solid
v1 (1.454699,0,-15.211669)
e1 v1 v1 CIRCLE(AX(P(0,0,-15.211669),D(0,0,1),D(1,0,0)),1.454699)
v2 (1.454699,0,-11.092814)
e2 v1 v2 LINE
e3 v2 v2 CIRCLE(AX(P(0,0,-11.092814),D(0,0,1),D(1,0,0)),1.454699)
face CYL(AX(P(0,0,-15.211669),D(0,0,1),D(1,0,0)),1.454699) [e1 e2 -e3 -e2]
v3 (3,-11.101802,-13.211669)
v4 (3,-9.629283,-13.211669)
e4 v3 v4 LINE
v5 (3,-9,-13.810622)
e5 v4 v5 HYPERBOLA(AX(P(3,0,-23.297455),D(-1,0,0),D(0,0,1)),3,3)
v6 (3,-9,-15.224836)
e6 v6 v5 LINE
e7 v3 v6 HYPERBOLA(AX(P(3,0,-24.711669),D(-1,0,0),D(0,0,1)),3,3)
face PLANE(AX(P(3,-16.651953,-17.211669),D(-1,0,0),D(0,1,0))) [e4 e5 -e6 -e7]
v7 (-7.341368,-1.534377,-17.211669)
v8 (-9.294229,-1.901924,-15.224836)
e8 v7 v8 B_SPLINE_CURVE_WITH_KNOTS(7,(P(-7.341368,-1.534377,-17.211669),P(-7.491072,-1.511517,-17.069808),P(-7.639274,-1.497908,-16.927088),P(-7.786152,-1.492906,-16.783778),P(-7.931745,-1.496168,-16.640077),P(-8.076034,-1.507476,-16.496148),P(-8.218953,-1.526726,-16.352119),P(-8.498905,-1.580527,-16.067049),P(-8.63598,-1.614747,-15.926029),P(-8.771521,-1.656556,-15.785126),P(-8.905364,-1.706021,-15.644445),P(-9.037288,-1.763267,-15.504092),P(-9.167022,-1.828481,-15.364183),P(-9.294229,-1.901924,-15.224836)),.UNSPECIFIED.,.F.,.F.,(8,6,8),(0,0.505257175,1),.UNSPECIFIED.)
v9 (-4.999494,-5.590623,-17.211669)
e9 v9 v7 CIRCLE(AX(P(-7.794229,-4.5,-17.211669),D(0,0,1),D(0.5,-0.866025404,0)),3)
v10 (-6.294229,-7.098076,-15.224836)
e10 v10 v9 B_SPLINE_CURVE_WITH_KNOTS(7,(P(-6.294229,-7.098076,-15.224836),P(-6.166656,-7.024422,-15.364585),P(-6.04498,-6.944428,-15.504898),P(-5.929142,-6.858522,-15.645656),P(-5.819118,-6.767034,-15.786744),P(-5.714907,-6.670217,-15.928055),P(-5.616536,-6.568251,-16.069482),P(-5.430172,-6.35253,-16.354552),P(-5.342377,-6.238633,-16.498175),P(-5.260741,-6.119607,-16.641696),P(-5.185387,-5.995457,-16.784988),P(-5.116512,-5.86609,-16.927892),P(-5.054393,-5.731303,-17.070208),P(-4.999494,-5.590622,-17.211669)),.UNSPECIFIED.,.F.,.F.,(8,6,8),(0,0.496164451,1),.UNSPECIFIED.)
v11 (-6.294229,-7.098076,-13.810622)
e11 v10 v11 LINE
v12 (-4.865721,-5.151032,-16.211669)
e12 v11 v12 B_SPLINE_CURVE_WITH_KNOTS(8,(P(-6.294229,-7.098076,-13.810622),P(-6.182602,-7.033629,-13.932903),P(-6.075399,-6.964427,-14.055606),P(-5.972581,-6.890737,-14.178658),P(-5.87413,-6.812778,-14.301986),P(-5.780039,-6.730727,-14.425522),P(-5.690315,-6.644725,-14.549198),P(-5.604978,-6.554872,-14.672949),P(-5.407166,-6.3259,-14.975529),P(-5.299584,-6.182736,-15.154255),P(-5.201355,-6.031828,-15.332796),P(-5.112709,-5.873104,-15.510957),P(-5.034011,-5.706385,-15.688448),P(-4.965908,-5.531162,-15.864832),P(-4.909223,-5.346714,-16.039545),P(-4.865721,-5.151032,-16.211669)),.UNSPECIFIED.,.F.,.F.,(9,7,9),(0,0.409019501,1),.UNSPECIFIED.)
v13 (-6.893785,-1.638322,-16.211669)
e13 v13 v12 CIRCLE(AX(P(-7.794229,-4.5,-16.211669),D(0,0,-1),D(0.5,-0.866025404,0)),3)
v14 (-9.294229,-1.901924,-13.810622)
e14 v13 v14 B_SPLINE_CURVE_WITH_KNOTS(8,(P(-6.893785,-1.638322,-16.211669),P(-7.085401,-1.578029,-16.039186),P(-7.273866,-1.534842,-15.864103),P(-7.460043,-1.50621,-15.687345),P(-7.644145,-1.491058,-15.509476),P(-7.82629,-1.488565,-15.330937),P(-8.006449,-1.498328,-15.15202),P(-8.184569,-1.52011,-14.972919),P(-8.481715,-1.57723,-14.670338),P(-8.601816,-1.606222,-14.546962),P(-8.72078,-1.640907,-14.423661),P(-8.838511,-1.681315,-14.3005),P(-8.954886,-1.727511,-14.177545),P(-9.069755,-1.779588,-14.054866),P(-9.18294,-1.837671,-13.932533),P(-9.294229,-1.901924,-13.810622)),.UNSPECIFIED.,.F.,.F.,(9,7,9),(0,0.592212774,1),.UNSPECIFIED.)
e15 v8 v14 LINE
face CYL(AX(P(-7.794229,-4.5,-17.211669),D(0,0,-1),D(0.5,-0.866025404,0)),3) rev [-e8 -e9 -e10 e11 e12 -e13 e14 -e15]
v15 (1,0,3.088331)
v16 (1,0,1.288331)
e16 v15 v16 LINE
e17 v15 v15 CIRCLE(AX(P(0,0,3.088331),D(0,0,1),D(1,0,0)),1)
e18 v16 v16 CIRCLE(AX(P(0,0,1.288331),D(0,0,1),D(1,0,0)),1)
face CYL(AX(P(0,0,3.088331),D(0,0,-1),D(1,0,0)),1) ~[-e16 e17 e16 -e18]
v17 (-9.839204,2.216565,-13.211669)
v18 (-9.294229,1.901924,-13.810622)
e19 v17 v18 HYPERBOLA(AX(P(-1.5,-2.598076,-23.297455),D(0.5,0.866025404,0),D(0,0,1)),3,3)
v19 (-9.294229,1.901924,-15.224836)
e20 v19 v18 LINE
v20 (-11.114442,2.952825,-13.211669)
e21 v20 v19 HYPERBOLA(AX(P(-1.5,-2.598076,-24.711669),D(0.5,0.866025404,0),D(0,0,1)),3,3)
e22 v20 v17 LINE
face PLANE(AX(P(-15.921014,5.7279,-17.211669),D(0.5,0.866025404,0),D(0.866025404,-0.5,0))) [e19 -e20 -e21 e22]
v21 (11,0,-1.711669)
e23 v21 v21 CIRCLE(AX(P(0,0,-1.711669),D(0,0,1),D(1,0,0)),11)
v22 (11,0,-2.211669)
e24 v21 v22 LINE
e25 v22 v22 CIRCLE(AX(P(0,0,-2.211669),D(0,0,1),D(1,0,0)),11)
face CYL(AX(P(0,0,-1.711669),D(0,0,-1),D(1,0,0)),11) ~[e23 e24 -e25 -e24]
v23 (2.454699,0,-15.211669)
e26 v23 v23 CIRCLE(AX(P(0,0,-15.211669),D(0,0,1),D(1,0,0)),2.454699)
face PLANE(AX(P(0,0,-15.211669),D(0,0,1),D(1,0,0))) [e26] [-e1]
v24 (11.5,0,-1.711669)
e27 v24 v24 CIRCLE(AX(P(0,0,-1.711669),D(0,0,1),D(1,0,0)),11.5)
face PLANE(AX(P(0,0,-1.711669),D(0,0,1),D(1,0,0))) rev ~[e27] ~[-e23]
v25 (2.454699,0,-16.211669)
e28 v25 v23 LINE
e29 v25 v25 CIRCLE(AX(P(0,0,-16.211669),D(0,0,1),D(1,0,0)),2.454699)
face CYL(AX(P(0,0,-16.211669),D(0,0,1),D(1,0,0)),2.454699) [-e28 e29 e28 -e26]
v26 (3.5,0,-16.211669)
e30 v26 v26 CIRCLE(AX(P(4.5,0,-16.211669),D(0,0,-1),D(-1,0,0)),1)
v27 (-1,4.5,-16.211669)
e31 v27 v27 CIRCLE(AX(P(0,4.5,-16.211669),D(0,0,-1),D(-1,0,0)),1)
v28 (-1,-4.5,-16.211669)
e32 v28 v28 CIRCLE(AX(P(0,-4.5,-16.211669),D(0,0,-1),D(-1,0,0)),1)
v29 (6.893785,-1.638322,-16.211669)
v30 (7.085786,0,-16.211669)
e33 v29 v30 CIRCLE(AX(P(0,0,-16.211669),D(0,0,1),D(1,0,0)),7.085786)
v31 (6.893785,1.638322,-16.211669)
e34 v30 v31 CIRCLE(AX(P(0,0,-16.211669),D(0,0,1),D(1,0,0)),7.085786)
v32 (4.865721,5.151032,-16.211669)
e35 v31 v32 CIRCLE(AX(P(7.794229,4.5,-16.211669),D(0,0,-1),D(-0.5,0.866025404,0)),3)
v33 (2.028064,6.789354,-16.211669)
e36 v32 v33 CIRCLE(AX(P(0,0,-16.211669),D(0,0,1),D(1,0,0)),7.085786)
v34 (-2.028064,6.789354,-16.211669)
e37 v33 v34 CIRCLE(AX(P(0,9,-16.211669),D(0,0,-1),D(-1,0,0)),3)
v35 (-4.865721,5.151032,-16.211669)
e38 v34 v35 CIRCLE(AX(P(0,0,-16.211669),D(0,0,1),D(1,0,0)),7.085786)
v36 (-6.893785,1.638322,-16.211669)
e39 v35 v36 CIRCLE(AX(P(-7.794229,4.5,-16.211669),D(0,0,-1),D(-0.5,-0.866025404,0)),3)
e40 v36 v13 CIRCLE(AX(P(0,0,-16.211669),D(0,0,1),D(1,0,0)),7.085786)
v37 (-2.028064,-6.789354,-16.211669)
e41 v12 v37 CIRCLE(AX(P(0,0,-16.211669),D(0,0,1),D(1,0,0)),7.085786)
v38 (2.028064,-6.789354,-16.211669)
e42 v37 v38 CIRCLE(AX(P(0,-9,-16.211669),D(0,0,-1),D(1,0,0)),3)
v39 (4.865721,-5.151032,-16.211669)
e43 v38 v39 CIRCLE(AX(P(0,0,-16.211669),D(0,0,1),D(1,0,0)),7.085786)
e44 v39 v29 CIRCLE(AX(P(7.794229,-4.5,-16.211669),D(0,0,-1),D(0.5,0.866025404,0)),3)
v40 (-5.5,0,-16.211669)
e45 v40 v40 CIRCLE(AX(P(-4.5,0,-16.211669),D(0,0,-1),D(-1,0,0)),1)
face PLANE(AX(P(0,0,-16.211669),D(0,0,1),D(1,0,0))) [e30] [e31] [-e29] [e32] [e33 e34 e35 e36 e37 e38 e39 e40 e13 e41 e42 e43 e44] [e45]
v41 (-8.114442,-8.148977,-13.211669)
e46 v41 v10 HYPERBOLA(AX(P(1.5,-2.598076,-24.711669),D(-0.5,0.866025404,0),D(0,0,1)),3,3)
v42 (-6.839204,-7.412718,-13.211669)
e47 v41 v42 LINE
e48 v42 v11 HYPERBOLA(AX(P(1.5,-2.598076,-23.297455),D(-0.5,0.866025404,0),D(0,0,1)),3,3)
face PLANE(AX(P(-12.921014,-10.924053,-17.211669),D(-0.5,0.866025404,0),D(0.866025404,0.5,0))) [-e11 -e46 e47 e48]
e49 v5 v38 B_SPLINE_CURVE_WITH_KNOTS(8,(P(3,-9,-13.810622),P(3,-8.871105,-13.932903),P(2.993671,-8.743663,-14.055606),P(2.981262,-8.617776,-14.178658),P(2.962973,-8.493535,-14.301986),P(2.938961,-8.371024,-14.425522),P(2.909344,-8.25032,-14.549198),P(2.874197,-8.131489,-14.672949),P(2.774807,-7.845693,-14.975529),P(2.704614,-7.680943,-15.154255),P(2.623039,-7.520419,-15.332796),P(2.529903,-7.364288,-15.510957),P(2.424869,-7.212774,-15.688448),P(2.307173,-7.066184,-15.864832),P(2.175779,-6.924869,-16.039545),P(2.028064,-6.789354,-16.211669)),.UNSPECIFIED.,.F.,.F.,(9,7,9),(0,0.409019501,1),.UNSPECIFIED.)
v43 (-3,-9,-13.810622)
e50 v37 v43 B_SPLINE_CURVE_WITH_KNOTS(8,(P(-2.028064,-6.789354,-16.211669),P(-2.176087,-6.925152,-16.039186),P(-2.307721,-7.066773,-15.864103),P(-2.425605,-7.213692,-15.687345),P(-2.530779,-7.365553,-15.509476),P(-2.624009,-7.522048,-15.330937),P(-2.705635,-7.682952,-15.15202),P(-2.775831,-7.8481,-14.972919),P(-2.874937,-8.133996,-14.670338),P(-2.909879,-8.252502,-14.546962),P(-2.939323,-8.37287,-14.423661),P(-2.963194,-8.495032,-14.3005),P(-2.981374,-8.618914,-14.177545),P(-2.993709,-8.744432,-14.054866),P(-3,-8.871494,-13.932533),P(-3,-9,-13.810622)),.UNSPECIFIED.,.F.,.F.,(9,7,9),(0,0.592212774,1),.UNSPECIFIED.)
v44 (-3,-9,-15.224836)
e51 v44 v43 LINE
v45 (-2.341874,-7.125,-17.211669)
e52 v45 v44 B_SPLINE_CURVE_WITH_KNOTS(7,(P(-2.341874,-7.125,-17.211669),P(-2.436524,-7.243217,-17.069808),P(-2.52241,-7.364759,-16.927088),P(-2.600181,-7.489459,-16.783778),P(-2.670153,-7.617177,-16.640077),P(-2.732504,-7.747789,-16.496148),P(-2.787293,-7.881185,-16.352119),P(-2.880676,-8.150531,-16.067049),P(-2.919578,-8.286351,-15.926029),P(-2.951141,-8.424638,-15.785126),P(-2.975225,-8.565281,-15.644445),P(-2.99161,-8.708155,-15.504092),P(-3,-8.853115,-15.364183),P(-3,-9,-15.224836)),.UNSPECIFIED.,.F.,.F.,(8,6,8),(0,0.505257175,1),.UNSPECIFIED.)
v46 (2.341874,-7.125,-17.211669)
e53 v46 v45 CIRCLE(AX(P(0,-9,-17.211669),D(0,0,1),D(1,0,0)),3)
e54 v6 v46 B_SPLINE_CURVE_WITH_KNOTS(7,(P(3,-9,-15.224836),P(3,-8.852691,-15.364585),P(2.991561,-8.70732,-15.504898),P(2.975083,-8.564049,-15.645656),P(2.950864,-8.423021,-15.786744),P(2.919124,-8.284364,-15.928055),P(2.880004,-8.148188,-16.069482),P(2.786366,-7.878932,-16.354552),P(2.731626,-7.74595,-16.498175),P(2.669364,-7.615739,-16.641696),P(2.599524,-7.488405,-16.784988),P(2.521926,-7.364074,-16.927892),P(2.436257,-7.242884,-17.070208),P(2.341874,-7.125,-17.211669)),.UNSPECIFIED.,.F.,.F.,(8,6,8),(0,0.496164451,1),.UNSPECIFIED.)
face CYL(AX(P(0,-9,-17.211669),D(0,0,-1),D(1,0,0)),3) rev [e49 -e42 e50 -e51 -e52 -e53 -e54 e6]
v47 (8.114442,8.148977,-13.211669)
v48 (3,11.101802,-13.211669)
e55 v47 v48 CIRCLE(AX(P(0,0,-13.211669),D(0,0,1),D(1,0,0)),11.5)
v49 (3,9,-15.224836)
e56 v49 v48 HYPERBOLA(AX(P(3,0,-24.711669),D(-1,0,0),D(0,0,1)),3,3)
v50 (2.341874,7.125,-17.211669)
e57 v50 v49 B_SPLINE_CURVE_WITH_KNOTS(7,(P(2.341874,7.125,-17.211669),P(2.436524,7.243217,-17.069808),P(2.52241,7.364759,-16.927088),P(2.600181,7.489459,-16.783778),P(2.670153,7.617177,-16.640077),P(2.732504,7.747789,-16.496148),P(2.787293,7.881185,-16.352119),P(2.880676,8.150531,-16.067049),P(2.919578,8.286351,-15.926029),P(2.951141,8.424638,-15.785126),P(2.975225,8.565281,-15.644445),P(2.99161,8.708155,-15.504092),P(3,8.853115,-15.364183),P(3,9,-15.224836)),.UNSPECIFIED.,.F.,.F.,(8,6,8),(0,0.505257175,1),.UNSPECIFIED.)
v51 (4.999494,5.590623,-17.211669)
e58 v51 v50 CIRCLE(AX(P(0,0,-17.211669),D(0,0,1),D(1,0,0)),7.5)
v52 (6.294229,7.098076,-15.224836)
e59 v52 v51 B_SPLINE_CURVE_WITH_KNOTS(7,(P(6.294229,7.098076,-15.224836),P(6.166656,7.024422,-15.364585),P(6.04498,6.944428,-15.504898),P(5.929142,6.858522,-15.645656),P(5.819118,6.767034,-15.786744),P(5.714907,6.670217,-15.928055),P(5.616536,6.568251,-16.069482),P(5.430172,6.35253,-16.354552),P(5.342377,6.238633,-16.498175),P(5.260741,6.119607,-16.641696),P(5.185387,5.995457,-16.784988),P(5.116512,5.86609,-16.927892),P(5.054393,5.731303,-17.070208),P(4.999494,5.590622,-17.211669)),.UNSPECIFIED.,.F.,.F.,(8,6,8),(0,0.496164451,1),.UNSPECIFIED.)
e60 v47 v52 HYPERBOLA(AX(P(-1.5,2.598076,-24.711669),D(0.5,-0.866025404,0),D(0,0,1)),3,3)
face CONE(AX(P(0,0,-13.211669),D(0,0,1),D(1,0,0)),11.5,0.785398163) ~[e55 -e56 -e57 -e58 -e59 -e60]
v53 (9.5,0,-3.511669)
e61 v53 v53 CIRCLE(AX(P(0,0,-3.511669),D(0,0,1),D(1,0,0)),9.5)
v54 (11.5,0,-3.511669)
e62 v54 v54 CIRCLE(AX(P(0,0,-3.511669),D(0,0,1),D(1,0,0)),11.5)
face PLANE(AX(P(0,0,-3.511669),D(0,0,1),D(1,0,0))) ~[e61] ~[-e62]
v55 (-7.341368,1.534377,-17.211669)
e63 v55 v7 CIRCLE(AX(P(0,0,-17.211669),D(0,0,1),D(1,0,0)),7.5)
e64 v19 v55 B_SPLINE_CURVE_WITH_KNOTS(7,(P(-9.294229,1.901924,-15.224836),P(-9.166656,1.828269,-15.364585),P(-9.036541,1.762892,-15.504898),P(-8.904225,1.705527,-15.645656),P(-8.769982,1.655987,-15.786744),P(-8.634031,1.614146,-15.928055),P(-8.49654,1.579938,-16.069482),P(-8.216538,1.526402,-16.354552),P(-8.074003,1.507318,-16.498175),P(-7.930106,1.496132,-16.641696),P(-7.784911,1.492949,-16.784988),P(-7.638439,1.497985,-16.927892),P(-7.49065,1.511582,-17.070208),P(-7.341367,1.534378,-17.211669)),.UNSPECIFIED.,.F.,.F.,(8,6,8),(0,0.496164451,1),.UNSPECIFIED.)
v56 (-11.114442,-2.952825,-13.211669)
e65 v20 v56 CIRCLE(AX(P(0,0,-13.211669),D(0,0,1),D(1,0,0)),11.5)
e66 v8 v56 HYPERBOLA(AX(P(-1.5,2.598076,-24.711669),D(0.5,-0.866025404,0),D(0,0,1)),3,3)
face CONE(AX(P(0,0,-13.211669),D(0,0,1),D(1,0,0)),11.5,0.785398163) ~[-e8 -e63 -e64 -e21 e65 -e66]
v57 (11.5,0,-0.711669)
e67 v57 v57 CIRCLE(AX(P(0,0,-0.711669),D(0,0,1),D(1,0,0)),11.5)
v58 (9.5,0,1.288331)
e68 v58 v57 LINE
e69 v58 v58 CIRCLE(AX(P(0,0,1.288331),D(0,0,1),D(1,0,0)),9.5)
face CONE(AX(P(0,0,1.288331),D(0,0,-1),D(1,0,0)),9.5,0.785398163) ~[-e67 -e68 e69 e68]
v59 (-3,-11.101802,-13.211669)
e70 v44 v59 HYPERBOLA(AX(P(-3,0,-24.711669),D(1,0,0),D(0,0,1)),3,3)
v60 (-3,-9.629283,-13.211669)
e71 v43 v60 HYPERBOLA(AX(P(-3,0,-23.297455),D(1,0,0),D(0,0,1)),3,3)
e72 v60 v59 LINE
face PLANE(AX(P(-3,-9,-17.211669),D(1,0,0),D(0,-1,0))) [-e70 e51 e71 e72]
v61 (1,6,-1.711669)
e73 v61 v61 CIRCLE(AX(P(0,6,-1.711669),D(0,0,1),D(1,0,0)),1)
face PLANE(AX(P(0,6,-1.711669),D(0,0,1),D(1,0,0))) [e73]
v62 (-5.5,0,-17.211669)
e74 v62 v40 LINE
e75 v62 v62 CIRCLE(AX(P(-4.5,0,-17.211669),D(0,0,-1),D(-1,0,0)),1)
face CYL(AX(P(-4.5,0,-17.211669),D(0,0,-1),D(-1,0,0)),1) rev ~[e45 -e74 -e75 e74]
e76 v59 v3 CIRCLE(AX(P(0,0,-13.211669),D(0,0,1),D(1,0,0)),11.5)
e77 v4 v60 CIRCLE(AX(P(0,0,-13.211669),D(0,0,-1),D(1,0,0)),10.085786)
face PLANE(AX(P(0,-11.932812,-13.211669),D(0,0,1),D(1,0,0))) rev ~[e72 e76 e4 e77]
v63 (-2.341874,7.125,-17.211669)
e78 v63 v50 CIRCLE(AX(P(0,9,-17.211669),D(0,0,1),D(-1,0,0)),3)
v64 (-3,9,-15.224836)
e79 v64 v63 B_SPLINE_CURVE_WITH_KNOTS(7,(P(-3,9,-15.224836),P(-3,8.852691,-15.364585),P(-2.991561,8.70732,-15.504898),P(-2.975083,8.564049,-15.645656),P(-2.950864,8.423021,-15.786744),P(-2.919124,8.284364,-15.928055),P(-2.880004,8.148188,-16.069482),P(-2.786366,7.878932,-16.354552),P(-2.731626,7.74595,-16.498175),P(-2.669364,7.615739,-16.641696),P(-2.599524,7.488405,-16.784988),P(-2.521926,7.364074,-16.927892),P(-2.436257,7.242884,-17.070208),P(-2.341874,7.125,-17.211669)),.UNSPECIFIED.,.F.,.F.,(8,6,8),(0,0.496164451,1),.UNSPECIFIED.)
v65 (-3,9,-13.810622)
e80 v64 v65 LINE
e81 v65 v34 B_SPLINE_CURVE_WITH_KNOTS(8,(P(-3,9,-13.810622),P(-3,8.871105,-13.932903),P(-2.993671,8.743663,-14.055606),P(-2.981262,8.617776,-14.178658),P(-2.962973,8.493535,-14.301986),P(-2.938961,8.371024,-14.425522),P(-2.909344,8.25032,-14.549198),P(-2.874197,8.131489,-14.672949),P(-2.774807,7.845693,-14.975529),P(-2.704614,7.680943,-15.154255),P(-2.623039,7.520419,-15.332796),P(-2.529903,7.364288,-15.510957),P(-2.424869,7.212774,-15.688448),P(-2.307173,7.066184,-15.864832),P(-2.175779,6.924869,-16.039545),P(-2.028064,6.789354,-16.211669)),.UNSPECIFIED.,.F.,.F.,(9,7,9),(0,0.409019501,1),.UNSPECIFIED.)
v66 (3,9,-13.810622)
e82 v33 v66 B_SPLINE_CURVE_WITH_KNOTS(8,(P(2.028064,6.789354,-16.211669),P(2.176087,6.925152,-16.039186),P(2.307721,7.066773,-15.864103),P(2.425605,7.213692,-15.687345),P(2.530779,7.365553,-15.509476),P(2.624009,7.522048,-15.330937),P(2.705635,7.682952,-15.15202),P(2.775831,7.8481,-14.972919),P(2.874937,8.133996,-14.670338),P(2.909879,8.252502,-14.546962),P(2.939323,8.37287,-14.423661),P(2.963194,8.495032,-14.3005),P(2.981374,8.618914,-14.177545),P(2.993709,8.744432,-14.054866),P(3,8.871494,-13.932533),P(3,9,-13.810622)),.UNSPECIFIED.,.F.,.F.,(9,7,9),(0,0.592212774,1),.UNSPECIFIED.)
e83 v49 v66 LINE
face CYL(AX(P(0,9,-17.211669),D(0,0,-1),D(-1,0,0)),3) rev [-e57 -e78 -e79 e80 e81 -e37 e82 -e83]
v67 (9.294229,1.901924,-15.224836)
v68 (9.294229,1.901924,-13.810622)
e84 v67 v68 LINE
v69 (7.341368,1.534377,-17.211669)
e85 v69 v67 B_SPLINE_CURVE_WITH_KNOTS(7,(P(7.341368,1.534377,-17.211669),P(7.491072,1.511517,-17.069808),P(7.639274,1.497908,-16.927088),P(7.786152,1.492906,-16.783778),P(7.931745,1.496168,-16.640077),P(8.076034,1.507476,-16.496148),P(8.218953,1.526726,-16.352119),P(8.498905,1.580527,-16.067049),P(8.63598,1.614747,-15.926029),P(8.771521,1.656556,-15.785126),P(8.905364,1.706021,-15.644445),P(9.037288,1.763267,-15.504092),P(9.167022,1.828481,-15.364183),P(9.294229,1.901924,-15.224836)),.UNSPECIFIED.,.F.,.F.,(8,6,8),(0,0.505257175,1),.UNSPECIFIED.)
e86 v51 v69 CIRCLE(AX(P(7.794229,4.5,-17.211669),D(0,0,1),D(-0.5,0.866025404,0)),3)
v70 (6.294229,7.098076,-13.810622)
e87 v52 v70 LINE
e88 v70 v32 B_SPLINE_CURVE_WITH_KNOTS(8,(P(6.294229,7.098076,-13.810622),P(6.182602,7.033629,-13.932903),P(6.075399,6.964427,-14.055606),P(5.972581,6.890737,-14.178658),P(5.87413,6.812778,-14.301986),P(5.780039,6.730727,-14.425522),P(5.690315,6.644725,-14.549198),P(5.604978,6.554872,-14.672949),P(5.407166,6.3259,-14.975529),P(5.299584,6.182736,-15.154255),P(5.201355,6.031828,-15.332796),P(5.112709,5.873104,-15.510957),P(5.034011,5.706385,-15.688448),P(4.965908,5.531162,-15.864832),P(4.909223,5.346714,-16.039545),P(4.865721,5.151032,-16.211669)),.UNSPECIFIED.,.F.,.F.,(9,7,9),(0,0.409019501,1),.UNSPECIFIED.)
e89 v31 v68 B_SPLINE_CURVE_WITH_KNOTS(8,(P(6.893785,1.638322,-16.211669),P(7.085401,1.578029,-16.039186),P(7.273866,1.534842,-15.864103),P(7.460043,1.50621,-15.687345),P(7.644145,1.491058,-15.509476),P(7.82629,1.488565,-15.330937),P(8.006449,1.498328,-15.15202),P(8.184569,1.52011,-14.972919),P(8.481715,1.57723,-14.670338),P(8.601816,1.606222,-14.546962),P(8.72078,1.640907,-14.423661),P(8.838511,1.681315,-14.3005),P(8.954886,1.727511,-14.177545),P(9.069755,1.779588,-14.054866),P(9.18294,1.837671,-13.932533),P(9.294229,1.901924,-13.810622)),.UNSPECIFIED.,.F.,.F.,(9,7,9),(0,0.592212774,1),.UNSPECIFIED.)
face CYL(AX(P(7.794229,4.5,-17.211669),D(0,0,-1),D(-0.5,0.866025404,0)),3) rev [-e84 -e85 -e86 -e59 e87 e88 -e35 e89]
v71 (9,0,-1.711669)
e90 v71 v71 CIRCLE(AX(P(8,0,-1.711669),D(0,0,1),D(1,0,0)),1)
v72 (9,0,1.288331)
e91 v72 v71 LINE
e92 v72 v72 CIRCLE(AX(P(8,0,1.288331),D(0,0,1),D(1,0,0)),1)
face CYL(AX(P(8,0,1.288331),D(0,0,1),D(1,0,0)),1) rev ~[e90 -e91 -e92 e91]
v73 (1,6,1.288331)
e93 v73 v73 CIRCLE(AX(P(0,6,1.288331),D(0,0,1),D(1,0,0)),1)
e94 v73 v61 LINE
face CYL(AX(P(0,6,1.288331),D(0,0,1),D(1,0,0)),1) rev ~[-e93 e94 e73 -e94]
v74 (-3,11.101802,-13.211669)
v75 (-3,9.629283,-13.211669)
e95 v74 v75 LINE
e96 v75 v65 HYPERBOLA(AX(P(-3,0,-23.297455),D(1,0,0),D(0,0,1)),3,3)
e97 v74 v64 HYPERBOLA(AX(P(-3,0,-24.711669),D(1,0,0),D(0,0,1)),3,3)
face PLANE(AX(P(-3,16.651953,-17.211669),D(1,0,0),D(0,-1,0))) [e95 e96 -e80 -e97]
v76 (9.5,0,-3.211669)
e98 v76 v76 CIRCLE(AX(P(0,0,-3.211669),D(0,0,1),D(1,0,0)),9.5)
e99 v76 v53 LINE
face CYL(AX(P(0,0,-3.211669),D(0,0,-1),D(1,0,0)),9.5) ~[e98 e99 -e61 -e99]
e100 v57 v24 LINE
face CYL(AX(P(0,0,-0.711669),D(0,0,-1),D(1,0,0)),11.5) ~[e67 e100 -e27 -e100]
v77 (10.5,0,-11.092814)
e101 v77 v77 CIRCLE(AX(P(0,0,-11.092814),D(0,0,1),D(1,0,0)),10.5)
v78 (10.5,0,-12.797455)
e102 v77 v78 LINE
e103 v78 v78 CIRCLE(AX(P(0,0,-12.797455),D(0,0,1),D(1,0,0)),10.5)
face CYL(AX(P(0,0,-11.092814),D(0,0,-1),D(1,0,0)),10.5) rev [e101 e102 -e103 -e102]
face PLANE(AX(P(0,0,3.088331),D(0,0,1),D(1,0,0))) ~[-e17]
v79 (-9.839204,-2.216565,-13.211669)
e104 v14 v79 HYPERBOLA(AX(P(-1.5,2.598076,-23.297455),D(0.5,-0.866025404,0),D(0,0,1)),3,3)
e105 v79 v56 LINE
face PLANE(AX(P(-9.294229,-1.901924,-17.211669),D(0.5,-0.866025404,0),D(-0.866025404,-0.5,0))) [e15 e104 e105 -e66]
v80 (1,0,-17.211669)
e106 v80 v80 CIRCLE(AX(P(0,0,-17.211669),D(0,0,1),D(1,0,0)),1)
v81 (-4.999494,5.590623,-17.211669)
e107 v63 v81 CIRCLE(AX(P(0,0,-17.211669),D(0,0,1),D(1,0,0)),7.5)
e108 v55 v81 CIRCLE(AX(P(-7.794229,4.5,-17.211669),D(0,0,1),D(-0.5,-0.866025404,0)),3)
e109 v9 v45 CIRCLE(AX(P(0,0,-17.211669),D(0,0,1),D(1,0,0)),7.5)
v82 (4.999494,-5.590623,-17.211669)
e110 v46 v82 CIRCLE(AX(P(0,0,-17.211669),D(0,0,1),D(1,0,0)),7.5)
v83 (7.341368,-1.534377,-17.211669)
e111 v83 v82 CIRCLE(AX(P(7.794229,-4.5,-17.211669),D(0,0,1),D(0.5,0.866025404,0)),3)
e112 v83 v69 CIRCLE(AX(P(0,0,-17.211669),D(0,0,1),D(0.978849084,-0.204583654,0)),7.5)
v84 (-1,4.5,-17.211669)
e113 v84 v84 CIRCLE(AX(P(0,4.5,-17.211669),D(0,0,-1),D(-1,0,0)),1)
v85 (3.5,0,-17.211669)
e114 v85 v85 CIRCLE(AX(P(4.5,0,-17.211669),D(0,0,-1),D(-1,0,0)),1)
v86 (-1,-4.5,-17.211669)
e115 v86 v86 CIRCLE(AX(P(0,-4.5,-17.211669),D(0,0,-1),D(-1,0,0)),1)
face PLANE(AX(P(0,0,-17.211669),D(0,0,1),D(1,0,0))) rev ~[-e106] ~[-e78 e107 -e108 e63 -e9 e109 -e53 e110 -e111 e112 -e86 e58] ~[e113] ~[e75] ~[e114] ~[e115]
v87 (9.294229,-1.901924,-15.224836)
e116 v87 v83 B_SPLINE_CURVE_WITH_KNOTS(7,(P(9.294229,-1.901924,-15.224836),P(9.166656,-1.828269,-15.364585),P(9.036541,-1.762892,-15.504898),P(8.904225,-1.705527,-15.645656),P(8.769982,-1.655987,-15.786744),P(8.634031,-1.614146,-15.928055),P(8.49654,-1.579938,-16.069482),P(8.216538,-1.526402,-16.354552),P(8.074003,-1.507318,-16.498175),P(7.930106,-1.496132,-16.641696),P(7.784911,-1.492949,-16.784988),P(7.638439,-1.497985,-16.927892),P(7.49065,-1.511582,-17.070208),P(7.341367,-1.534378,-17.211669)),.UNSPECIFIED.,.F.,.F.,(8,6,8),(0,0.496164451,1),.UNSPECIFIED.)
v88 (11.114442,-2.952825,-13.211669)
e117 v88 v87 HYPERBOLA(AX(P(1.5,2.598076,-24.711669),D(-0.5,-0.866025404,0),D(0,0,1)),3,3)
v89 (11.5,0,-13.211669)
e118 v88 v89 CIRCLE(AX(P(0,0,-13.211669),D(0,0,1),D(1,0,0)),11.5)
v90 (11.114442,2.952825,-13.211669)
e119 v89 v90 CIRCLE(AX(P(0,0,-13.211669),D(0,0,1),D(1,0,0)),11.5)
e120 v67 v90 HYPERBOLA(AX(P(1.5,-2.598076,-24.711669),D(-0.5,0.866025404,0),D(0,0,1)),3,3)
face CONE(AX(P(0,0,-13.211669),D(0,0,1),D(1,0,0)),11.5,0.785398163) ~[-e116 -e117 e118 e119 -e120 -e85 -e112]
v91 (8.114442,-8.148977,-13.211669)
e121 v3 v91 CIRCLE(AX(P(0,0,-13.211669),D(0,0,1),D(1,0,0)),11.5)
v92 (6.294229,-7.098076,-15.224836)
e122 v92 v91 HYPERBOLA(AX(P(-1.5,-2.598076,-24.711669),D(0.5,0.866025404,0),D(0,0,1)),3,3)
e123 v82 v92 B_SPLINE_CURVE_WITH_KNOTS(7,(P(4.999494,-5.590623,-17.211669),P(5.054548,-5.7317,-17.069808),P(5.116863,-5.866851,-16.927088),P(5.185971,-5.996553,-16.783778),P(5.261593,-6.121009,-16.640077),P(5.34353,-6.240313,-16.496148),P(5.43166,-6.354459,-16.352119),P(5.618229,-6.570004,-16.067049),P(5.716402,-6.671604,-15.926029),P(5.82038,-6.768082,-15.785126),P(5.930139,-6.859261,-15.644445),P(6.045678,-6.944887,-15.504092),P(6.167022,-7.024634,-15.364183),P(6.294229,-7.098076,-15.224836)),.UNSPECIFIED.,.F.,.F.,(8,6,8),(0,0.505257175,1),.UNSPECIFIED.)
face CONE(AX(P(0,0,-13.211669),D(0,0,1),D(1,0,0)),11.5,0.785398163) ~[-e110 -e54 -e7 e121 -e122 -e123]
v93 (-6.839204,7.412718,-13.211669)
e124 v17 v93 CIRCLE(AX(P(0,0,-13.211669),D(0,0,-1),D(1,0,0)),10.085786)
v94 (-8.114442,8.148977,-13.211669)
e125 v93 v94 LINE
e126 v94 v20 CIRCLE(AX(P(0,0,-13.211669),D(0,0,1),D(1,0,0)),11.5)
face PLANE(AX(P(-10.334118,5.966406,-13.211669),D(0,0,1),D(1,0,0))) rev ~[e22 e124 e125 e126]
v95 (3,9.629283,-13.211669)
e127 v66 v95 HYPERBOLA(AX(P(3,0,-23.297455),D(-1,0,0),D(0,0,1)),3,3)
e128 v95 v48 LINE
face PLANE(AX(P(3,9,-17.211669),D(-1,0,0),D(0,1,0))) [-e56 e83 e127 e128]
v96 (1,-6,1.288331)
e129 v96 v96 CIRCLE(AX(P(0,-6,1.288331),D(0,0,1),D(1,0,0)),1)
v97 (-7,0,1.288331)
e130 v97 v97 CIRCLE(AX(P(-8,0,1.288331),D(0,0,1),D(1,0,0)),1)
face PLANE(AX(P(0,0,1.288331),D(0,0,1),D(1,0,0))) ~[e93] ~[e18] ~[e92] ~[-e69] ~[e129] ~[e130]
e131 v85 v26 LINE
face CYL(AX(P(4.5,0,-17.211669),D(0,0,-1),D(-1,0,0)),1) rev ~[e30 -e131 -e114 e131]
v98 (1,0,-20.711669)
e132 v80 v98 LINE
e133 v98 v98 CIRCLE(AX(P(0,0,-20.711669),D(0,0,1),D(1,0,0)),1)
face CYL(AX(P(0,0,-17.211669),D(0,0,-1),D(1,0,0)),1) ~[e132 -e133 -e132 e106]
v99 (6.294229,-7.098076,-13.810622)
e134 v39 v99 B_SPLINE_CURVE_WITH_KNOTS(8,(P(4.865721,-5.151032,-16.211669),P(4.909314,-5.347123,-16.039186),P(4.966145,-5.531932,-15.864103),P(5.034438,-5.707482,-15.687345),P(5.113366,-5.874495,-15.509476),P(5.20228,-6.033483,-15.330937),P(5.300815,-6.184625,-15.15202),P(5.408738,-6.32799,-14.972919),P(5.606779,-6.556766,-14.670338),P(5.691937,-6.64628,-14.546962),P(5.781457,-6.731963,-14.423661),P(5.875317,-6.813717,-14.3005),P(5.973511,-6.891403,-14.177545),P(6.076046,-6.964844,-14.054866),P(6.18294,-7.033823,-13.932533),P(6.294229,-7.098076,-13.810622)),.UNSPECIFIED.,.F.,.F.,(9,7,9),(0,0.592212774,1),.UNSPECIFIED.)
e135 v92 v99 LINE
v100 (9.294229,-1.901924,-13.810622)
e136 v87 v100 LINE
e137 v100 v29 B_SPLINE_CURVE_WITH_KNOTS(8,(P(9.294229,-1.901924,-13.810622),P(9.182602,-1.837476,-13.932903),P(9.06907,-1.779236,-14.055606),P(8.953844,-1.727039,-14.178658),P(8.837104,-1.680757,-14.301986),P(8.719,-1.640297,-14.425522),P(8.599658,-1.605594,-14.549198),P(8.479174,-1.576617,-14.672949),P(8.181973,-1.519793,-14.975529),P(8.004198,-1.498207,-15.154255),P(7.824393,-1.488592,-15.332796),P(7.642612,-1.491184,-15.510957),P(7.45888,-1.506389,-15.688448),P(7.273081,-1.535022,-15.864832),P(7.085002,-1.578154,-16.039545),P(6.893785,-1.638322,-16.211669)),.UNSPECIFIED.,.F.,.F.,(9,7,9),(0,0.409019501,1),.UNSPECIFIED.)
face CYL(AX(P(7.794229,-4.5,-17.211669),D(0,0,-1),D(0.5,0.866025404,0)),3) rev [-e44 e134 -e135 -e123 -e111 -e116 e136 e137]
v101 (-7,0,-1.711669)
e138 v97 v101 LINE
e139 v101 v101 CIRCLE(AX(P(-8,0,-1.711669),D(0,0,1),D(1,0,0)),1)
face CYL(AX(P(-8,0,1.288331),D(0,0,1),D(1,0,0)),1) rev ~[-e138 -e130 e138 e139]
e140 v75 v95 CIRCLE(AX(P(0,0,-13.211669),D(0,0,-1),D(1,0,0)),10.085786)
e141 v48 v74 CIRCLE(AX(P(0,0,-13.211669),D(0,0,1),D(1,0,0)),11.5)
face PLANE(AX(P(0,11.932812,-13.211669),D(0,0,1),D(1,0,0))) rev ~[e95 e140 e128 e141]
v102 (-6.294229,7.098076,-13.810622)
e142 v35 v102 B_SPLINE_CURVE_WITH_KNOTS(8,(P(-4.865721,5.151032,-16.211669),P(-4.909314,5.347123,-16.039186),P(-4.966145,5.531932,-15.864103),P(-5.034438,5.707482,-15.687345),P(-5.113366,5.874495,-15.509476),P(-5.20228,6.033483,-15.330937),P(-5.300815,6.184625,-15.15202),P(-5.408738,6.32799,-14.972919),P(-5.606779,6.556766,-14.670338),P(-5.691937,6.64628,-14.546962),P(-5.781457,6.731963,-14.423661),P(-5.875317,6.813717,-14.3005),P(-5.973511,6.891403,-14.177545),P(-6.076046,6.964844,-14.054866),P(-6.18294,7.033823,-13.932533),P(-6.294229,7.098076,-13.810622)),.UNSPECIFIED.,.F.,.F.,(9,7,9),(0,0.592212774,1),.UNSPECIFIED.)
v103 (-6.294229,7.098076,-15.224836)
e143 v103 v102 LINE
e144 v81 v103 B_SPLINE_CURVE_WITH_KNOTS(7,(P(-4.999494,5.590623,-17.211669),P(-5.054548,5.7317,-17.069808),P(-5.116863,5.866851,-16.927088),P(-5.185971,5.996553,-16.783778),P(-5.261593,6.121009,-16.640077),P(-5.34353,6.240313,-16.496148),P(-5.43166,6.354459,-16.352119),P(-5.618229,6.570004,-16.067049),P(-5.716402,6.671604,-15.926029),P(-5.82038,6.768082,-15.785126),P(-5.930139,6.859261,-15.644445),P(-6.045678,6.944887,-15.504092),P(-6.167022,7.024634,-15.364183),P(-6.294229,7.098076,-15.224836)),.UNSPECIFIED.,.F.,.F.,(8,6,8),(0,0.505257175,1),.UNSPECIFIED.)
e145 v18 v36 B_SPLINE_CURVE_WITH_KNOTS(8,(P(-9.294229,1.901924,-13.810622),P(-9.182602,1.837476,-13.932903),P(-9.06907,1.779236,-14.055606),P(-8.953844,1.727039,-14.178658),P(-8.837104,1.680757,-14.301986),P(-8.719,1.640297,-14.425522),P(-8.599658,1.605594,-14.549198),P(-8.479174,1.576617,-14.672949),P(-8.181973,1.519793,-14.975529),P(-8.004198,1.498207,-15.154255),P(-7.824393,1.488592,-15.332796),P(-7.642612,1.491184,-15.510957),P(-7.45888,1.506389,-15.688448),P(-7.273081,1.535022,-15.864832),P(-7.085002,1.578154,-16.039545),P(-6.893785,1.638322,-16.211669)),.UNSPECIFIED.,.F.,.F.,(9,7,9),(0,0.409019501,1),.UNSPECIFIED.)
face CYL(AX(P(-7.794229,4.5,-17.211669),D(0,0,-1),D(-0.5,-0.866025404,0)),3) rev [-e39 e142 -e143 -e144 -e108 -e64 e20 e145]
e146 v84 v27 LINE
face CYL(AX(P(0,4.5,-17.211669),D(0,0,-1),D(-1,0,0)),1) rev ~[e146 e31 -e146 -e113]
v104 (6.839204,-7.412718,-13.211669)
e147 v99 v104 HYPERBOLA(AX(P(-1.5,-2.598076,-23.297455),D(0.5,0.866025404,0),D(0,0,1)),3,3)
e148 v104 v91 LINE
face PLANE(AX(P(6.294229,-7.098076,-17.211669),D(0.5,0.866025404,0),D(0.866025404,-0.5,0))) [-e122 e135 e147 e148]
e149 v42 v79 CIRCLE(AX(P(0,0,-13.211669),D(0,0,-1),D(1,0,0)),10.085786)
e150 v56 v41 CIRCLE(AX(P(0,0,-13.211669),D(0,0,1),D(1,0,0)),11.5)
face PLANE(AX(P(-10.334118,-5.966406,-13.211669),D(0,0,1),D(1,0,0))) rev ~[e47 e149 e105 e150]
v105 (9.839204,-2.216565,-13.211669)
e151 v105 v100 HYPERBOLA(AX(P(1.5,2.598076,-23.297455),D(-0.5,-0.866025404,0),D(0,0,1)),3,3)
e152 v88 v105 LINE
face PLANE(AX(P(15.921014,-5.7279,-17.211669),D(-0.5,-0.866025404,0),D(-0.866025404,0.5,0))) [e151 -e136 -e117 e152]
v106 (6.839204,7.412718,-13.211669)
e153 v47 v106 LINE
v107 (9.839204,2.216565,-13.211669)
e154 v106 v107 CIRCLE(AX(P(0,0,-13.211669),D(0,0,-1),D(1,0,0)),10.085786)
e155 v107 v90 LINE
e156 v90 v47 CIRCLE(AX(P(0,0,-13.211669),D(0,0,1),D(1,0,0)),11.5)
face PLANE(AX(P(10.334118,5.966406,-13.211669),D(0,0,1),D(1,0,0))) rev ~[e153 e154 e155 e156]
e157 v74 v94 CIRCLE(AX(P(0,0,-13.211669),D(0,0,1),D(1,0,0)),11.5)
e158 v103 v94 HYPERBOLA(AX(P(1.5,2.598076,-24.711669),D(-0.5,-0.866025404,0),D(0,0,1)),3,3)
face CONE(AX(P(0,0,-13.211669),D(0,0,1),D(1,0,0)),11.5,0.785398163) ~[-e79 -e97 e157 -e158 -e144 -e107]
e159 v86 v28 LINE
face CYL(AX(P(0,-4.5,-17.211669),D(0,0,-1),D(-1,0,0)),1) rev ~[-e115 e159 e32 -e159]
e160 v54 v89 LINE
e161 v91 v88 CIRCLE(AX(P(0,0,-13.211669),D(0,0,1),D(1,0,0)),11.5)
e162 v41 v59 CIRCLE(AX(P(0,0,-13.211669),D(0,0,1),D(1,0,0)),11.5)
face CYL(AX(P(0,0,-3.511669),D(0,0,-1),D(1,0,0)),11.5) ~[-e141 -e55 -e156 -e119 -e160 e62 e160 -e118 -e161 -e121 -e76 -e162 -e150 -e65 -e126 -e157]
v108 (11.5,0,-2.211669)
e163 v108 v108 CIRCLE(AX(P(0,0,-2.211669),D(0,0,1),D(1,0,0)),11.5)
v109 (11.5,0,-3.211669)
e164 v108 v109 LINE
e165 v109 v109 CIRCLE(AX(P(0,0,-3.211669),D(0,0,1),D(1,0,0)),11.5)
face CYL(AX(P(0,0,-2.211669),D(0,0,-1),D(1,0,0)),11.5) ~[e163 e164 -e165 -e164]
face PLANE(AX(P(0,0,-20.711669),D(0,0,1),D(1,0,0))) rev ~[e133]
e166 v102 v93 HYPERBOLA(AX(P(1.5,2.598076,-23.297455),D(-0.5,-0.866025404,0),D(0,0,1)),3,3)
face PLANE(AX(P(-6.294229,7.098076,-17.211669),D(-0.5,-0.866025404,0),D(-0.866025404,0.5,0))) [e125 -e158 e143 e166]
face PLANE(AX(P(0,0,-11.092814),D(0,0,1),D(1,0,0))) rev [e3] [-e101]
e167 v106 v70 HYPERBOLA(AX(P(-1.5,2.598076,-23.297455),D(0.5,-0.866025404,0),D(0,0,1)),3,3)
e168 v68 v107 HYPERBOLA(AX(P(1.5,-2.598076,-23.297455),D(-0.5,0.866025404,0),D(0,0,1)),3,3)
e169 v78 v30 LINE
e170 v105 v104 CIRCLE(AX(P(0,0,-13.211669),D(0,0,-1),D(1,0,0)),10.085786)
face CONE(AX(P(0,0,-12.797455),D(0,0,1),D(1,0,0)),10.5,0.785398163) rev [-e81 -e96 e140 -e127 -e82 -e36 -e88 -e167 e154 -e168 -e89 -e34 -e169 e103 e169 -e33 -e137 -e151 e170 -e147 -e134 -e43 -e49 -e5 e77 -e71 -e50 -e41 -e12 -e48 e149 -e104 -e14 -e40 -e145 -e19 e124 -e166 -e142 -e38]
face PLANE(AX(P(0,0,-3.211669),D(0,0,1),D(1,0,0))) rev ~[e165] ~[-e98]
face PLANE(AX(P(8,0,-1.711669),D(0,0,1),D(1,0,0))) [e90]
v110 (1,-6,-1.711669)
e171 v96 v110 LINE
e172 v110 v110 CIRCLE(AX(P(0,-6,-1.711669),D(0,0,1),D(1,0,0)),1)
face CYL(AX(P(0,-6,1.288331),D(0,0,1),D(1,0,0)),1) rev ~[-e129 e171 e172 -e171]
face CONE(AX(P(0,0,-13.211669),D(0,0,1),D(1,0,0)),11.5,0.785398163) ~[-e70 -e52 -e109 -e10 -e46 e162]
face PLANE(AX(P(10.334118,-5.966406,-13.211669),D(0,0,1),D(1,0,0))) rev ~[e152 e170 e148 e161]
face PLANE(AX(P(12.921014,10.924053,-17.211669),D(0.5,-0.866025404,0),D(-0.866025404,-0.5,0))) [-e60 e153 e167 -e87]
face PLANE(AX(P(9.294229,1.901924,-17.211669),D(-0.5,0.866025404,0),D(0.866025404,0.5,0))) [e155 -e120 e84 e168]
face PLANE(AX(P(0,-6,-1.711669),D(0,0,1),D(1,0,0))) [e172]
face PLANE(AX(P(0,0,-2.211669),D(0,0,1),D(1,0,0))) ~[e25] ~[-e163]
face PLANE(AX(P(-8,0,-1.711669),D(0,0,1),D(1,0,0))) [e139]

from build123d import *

# Parameters (mm, degrees)
SKETCH3_R          = 1
CUT_EXTRUDE1_DEPTH = 4
SKETCH4_R          = 1
CUT_EXTRUDE2_DEPTH = 3


with BuildPart() as part:
    # Sketch2 → Revolve1 (revolve)
    with BuildSketch(Plane(origin=(0, 0, 0), x_dir=(1, 0, 0), z_dir=(0, 1, 0))):
        Polygon((0, 20.711668775), (0, 0), (0, -3.088331225), (1, -3.088331225), (1, -1.288331225), (9.5, -1.288331225), (11.5, 0.711668775), (11.5, 1.711668775), (11, 1.711668775), (11, 2.211668775), (11.5, 2.211668775), (11.5, 3.211668775), (9.5, 3.211668775), (9.5, 3.511668775), (11.5, 3.511668775), (11.5, 13.211668775), (7.5, 17.211668775), (1, 17.211668775), (1, 20.711668775), align=None)
        Polygon((2.454698557, 16.211668775), (2.454698557, 15.211668775), (1.454698557, 15.211668775), (1.454698557, 11.092814322), (10.5, 11.092814322), (10.5, 12.797455213), (7.085786438, 16.211668775), align=None, mode=Mode.SUBTRACT)
    revolve(axis=Axis((0, 0, -20.711668775), (0, 0, 1)))

    # Sketch3 → Cut-Extrude1 (cut)
    with BuildSketch(Plane(origin=(0, 0, -17.211668775), x_dir=(-1, 0, 0), z_dir=(0, 0, -1))):
        with Locations((0, 4.5)):
            Circle(SKETCH3_R)
        with Locations((4.5, 0)):
            Circle(SKETCH3_R)
        with Locations((0, -4.5)):
            Circle(SKETCH3_R)
        with Locations((-4.5, 0)):
            Circle(SKETCH3_R)
        with BuildLine():
            Line((-3, 9), (-3, 16.651953035))
            Line((-3, 16.651953035), (3, 16.651953035))
            Line((3, 16.651953035), (3, 9))
            ThreePointArc((3, 9), (0, 6), (-3, 9))
        make_face()
        with BuildLine():
            Line((15.921014351, 5.727900306), (9.294228634, 1.901923789))
            ThreePointArc((9.294228634, 1.901923789), (5.196152423, 3), (6.294228634, 7.098076211))
            Line((6.294228634, 7.098076211), (12.921014351, 10.924052729))
            Line((12.921014351, 10.924052729), (15.921014351, 5.727900306))
        make_face()
        with BuildLine():
            Line((12.921014351, -10.924052729), (6.294228634, -7.098076211))
            ThreePointArc((6.294228634, -7.098076211), (5.196152423, -3), (9.294228634, -1.901923789))
            Line((9.294228634, -1.901923789), (15.921014351, -5.727900306))
            Line((15.921014351, -5.727900306), (12.921014351, -10.924052729))
        make_face()
        with BuildLine():
            Line((-3, -16.651953035), (-3, -9))
            ThreePointArc((-3, -9), (0, -6), (3, -9))
            Line((3, -9), (3, -16.651953035))
            Line((3, -16.651953035), (-3, -16.651953035))
        make_face()
        with BuildLine():
            Line((-15.921014351, -5.727900306), (-9.294228634, -1.901923789))
            ThreePointArc((-9.294228634, -1.901923789), (-5.196152423, -3), (-6.294228634, -7.098076211))
            Line((-6.294228634, -7.098076211), (-12.921014351, -10.924052729))
            Line((-12.921014351, -10.924052729), (-15.921014351, -5.727900306))
        make_face()
        with BuildLine():
            Line((-12.921014351, 10.924052729), (-6.294228634, 7.098076211))
            ThreePointArc((-6.294228634, 7.098076211), (-5.196152423, 3), (-9.294228634, 1.901923789))
            Line((-9.294228634, 1.901923789), (-15.921014351, 5.727900306))
            Line((-15.921014351, 5.727900306), (-12.921014351, 10.924052729))
        make_face()
    extrude(amount=-CUT_EXTRUDE1_DEPTH, mode=Mode.SUBTRACT)

    # Sketch4 → Cut-Extrude2 (cut)
    with BuildSketch(Plane.XY.offset(1.288331225)):
        with Locations((0, 6)):
            Circle(SKETCH4_R)
        with Locations((0, -6)):
            Circle(SKETCH4_R)
        with Locations((8, 0)):
            Circle(SKETCH4_R)
        with Locations((-8, 0)):
            Circle(SKETCH4_R)
    extrude(amount=-CUT_EXTRUDE2_DEPTH, mode=Mode.SUBTRACT)


solid = part.part
